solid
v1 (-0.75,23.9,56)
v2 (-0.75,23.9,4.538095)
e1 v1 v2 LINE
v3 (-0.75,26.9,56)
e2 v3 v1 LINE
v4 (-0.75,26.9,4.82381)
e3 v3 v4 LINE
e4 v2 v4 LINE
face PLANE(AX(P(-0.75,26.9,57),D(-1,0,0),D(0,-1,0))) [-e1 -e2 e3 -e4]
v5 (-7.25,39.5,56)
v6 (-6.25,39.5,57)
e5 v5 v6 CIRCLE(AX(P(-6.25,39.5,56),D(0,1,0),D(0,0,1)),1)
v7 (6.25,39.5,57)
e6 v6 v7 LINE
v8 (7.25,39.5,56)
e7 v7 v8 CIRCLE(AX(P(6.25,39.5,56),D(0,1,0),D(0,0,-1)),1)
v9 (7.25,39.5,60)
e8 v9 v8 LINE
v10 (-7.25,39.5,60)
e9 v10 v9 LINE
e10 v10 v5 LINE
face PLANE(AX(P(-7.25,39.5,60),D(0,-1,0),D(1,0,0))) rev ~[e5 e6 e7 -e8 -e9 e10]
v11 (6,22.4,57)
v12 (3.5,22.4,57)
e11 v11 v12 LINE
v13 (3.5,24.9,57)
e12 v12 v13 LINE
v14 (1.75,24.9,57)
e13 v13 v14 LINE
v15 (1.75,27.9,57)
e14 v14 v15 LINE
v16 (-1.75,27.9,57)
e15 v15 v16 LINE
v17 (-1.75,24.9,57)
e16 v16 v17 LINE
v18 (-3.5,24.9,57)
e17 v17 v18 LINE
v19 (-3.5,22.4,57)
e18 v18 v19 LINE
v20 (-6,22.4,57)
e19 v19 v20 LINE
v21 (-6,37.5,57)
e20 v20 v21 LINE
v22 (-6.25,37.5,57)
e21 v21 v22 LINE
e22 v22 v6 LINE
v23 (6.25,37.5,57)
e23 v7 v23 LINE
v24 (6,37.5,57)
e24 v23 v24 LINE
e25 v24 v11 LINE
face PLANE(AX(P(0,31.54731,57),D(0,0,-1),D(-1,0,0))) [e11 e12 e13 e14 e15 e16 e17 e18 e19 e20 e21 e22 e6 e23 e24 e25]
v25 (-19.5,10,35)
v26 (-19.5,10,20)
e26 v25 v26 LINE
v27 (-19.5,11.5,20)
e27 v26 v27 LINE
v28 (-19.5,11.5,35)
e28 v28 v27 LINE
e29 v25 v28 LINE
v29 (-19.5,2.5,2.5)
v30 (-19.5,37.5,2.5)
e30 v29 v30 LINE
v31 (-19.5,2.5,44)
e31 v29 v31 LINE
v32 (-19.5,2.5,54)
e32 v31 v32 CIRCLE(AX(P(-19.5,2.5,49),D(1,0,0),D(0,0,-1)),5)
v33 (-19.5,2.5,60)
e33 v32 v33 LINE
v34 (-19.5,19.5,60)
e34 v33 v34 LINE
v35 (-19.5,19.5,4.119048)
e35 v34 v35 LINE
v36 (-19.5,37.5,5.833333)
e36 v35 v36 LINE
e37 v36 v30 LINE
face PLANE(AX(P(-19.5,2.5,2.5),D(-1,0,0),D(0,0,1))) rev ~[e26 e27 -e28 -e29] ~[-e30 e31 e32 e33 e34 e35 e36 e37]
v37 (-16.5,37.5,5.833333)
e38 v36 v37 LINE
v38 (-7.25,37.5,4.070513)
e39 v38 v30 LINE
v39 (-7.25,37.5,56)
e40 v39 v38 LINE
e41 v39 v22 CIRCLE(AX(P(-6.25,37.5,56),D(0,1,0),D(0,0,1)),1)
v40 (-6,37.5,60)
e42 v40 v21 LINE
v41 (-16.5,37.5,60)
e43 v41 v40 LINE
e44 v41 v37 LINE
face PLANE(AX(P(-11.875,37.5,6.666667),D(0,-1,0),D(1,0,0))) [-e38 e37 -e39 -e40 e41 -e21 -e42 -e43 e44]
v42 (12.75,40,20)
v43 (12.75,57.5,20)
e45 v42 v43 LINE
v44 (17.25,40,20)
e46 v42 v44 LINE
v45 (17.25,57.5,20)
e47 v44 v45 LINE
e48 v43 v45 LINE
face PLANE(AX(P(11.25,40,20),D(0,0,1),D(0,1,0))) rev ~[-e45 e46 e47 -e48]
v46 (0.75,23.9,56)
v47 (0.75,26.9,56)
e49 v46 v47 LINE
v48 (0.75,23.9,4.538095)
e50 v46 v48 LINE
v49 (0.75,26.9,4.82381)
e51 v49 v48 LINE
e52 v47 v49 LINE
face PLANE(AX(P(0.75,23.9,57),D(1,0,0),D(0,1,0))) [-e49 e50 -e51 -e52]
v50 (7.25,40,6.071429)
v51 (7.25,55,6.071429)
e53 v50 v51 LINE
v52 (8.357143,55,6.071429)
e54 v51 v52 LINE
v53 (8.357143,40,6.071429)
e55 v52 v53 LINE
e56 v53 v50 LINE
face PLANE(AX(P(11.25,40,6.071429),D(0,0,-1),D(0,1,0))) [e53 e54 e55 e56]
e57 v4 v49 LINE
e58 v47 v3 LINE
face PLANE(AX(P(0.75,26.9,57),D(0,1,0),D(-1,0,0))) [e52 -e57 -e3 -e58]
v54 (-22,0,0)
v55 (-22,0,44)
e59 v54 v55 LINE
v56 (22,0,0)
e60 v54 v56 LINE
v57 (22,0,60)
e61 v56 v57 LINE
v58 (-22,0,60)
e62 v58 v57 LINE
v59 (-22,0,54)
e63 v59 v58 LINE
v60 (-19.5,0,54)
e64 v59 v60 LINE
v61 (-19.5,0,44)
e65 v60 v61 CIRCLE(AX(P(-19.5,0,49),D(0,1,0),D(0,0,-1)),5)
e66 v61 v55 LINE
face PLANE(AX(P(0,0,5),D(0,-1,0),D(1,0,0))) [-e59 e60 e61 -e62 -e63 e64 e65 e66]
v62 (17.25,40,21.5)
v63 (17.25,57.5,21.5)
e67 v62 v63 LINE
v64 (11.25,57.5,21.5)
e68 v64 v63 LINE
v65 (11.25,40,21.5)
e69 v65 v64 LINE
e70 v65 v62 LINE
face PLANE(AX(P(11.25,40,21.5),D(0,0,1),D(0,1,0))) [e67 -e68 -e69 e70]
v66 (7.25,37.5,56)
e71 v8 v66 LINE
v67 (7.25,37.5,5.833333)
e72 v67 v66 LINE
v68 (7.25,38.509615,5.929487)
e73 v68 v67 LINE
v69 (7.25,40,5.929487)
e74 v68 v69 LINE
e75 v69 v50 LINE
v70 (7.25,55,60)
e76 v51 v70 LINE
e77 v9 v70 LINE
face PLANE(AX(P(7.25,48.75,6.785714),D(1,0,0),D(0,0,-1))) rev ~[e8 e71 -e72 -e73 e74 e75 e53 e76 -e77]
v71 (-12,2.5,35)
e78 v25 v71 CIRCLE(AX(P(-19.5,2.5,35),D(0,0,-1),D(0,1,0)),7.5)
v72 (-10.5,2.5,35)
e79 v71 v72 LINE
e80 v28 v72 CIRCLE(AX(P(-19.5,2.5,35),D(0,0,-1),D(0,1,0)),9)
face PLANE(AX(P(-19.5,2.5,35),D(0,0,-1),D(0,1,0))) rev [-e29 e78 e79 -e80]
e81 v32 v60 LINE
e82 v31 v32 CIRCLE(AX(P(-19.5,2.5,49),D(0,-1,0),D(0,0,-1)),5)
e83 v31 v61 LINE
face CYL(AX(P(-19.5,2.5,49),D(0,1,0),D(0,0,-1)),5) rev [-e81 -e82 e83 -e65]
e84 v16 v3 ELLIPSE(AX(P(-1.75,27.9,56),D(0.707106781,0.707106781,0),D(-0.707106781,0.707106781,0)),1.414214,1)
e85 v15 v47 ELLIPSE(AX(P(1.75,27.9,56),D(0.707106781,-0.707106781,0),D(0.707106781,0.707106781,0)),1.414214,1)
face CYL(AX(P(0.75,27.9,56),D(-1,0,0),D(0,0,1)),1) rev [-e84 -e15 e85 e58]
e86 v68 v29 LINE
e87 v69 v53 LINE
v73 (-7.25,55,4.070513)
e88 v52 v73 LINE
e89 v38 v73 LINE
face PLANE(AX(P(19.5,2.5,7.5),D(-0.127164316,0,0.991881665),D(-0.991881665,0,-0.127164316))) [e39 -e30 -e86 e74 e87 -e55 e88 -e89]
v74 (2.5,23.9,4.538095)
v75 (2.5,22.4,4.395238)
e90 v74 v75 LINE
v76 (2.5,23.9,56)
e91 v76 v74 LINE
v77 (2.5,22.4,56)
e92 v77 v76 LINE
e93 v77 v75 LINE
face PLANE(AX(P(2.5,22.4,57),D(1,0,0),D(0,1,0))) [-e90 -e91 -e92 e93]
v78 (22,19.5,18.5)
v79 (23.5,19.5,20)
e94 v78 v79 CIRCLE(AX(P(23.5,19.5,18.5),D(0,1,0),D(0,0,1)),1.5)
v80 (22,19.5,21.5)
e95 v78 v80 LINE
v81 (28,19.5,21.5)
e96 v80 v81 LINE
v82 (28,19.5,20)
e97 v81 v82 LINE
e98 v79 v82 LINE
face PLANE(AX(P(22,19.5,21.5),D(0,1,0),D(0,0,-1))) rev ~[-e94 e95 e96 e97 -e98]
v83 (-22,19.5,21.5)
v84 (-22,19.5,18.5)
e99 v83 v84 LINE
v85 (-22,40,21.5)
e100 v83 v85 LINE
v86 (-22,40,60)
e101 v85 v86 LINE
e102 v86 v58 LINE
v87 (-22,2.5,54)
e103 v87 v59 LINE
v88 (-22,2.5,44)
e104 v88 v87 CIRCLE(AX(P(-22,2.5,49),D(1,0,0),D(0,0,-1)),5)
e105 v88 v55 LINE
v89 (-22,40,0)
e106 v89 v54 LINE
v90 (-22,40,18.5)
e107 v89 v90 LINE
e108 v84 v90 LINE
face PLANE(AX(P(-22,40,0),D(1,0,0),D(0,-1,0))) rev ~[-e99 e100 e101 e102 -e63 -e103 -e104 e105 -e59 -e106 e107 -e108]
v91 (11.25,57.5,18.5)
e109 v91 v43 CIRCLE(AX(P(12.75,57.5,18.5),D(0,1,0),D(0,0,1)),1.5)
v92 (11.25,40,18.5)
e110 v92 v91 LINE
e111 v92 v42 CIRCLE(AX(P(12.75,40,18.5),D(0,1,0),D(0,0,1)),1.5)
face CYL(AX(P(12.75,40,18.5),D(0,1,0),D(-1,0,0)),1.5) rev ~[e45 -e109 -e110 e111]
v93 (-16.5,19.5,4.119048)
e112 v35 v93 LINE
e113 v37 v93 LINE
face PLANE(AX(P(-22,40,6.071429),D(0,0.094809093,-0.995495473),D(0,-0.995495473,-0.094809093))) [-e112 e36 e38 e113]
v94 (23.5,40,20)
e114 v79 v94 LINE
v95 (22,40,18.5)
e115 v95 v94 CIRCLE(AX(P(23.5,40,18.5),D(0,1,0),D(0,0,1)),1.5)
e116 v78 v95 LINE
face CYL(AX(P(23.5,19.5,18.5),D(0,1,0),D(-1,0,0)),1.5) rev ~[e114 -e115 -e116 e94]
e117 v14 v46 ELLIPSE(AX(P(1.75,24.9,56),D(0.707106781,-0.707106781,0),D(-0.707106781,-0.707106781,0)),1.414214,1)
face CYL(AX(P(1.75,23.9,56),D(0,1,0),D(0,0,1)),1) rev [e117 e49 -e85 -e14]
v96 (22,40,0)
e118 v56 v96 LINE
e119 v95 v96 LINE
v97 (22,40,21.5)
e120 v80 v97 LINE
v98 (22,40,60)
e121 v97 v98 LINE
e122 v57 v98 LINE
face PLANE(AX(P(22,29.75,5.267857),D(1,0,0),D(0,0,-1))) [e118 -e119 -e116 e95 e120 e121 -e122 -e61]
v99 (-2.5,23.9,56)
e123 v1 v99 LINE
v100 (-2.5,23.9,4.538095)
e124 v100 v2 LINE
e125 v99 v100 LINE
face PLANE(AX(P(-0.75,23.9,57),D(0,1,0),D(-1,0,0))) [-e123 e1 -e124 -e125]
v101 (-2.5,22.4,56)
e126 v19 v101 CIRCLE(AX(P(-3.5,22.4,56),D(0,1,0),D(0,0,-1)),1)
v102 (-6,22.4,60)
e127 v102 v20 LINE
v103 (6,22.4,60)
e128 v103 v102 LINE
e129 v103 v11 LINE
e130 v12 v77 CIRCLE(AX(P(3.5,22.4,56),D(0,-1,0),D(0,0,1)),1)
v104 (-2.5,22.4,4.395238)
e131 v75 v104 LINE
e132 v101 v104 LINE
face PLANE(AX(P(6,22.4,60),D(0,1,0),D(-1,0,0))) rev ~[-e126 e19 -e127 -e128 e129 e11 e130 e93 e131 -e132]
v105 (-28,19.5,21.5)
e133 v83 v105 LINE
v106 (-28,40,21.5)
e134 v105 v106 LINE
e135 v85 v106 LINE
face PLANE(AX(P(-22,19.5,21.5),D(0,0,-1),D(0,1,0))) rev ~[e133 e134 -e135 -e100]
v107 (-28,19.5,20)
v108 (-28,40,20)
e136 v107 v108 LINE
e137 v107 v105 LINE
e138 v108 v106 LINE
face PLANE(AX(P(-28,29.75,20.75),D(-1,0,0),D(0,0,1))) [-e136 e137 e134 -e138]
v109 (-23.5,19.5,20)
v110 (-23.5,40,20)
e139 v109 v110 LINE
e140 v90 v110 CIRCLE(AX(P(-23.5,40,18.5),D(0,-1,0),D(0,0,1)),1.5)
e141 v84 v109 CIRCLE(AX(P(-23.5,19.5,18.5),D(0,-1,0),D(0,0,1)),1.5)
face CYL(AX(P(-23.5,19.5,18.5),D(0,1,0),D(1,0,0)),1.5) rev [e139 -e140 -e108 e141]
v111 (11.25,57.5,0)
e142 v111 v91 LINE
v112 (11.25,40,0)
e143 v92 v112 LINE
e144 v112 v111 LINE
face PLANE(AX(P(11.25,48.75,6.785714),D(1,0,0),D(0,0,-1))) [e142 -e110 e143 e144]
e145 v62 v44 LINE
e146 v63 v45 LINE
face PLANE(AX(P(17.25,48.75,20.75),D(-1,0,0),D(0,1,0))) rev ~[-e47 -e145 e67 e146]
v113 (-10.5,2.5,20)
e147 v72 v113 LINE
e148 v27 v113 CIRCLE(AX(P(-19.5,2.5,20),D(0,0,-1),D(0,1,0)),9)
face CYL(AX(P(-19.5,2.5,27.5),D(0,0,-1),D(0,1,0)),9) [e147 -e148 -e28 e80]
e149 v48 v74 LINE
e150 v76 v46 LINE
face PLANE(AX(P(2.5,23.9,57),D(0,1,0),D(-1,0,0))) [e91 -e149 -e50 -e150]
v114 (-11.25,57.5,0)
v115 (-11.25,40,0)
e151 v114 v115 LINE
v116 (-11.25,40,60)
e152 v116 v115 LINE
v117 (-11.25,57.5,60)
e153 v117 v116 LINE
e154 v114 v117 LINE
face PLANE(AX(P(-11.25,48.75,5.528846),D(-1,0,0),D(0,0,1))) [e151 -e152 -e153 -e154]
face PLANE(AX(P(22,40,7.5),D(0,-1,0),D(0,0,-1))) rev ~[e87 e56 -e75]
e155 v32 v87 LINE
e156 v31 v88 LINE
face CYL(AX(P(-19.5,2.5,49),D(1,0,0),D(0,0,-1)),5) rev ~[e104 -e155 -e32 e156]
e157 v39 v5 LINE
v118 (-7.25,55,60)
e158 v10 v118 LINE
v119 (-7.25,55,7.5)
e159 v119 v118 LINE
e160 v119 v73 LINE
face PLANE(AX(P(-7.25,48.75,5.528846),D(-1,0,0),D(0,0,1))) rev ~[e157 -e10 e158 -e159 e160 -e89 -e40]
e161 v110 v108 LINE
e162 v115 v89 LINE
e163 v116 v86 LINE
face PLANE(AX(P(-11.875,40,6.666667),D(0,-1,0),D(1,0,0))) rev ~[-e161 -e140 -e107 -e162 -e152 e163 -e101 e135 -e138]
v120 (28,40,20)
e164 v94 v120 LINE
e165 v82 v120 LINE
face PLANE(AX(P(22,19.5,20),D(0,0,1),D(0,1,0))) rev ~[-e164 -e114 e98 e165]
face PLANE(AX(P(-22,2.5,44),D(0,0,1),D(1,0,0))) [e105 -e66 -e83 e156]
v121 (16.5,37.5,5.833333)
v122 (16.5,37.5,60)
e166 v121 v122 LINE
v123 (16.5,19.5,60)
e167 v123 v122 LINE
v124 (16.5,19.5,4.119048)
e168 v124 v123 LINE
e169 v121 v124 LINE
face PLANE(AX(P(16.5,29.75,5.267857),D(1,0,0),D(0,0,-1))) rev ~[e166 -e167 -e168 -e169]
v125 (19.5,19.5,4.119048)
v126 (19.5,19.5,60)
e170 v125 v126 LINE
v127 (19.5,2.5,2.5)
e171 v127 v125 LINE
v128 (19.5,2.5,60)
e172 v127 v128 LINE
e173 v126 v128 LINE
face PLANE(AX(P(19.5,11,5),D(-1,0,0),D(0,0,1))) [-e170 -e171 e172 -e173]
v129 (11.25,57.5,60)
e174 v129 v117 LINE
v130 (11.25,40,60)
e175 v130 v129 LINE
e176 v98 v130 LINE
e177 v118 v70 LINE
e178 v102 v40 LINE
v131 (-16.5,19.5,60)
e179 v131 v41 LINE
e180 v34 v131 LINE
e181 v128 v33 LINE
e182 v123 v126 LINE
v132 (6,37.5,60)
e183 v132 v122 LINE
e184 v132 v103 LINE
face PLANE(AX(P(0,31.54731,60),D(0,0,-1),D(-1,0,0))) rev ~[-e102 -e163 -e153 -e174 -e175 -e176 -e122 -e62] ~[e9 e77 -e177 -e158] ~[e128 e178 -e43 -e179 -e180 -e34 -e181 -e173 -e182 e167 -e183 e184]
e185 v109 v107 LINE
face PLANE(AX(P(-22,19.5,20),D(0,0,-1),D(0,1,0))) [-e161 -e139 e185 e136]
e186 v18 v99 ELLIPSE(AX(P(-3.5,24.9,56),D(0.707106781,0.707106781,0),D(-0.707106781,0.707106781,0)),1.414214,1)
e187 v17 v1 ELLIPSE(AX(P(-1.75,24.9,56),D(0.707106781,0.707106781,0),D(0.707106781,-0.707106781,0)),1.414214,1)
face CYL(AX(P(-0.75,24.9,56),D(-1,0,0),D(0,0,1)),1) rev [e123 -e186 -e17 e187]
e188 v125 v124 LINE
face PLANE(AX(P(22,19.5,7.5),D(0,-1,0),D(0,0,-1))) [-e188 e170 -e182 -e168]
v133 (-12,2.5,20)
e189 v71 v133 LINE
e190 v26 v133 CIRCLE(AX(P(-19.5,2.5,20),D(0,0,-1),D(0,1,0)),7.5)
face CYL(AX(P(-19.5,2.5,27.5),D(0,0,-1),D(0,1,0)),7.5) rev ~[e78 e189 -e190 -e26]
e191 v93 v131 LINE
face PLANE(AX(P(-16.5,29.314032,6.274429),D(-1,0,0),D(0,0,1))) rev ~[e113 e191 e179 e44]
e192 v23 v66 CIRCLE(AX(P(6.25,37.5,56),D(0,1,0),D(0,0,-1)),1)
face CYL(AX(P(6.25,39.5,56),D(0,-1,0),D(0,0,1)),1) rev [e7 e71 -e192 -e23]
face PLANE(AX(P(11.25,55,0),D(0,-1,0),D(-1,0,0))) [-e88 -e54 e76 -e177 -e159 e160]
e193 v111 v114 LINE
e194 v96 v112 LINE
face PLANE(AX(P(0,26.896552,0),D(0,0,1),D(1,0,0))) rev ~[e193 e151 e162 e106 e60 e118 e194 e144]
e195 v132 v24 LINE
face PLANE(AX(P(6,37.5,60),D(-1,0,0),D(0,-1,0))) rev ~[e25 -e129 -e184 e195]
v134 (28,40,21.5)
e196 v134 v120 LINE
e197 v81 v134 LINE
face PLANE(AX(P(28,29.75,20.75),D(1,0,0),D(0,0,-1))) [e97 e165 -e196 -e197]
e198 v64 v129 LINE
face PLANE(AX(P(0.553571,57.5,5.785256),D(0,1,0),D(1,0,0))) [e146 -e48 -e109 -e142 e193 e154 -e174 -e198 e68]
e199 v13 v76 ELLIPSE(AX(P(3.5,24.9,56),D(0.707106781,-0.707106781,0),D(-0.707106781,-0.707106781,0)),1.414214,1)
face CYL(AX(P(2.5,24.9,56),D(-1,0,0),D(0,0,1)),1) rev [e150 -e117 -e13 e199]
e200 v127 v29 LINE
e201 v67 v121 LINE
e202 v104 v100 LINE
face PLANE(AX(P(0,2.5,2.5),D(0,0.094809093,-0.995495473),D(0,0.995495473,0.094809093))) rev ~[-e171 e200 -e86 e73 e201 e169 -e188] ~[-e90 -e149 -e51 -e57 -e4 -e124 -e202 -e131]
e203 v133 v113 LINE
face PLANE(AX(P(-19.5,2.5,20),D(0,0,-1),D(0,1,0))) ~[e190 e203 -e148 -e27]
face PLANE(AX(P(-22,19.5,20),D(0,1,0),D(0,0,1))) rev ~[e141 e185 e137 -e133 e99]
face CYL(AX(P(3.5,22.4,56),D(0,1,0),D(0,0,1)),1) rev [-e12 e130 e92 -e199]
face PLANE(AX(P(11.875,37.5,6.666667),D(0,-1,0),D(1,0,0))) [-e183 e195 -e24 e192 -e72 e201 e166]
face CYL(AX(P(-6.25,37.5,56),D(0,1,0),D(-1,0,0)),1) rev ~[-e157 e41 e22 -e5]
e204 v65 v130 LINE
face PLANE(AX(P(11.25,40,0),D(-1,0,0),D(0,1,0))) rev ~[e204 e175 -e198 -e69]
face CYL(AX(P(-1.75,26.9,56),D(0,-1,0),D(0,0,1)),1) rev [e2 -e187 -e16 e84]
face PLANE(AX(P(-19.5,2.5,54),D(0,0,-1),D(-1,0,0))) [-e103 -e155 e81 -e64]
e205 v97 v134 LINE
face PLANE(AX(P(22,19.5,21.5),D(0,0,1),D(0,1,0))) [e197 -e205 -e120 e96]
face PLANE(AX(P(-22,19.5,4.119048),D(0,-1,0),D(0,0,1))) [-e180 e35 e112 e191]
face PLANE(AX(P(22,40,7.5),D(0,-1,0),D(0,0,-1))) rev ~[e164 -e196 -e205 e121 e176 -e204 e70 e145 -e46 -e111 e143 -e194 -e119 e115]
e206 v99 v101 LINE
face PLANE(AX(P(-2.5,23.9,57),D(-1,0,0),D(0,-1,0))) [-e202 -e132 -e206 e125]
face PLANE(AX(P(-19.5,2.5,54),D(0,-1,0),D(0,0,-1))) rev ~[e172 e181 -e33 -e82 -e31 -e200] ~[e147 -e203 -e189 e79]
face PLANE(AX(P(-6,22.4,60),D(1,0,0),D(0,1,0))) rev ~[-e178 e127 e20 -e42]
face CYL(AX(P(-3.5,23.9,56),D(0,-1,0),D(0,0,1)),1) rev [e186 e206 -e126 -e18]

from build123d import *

# Parameters (mm, degrees)
BOSS_EXTRUDE1_DEPTH             = 60
SHELL1_T                        = -2.5
SKETCH2_W                       = 1.5
SKETCH2_H                       = 17.5
BOSS_EXTRUDE2_DEPTH             = 57.5
SKETCH4_W                       = 3
SKETCH4_H                       = 18
BOSS_EXTRUDE4_DEPTH             = 57.5
BOSS_EXTRUDE5_DEPTH             = 5
SKETCH13_W                      = 1.5
SKETCH13_H                      = 20.5
BOSS_EXTRUDE8_DEPTH             = 6
SKETCH14_W                      = 17.5
SKETCH14_H                      = 1.5
BOSS_EXTRUDE9_DEPTH             = 6
SKETCH15_W                      = 1.5
SKETCH15_H                      = 20.5
BOSS_EXTRUDE10_DEPTH            = 6
FILLET7_R                       = 1.5
CUT_EXTRUDE9_REACH              = 89.694
CUT_EXTRUDE9_DIRECTION_2_REACH  = 89.694
CUT_EXTRUDE10_REACH             = 88.076
CUT_EXTRUDE10_DIRECTION_2_REACH = 88.076
SKETCH27_W                      = 5
SKETCH27_H                      = 17
BOSS_EXTRUDE15_DEPTH            = 2.5
BOSS_EXTRUDE16_DEPTH            = 5.5
SKETCH29_W                      = 9.25
SKETCH29_H                      = 1.666666667
BOSS_EXTRUDE17_DEPTH            = 2.5
SKETCH30_W                      = 3.942307692
SKETCH30_H                      = 17.5
BOSS_EXTRUDE18_DEPTH            = 4
SKETCH31_W                      = 5
SKETCH31_H                      = 17
BOSS_EXTRUDE19_DEPTH            = 2.5
SKETCH32_W                      = 4.464285714
SKETCH32_H                      = 20.5
BOSS_EXTRUDE20_DEPTH            = 5.5
SKETCH35_W                      = 9.25
SKETCH35_H                      = 1.666666667
BOSS_EXTRUDE21_DEPTH            = 2.5
SKETCH36_W                      = 1.428571429
SKETCH36_H                      = 17.5
BOSS_EXTRUDE22_DEPTH            = 4
SKETCH37_W                      = 15.607142857
SKETCH37_H                      = 3.429487179
BOSS_EXTRUDE23_DEPTH            = 2.5
SKETCH38_W                      = 39
SKETCH38_H                      = 5
BOSS_EXTRUDE24_DEPTH            = 2.5
SKETCH39_W                      = 15
SKETCH39_H                      = 1.5
REVOLVE1_ANGLE                  = 90
CUT_EXTRUDE11_DEPTH             = 10
CUT_EXTRUDE12_DEPTH             = 10
BOSS_EXTRUDE25_DEPTH            = 3
BOSS_EXTRUDE26_START            = -2.5
SKETCH43_W                      = 12.25
SKETCH43_H                      = 3.571428571
BOSS_EXTRUDE26_DEPTH            = 2.5
BOSS_EXTRUDE27_REACH            = 87.669
FILLET8_R                       = 1


with BuildPart() as part:
    # Sketch1 → Boss-Extrude1 (new body)
    with BuildSketch(Plane.XY):
        Polygon((-22, 0), (22, 0), (22, 40), (11.25, 40), (11.25, 57.5), (-11.25, 57.5), (-11.25, 40), (-22, 40), align=None)
    extrude(amount=BOSS_EXTRUDE1_DEPTH)

    # Shell1
    shell1_openings = [part.faces().sort_by_distance(p)[0] for p in [
        (0, 25.256094022, 60),
    ]]
    offset(amount=SHELL1_T, openings=shell1_openings, kind=Kind.INTERSECTION)

    # Sketch2 → Boss-Extrude2 (add)
    with BuildSketch(Plane.XY.offset(2.5)):
        with Locations((-8, 46.25)):
            Rectangle(SKETCH2_W, SKETCH2_H)
        with Locations((8, 46.25)):
            Rectangle(SKETCH2_W, SKETCH2_H)
    extrude(amount=BOSS_EXTRUDE2_DEPTH)

    # Sketch4 → Boss-Extrude4 (add)
    with BuildSketch(Plane.XY.offset(2.5)):
        with Locations((-18, 28.5)):
            Rectangle(SKETCH4_W, SKETCH4_H)
        with Locations((18, 28.5)):
            Rectangle(SKETCH4_W, SKETCH4_H)
    extrude(amount=BOSS_EXTRUDE4_DEPTH)

    # Sketch7 → Boss-Extrude5 (add)
    with BuildSketch(Plane.XY.offset(2.5)):
        Polygon((-7.25, 55), (7.25, 55), (7.25, 37.5), (16.5, 37.5), (16.5, 19.5), (19.5, 19.5), (19.5, 2.5), (-19.5, 2.5), (-19.5, 19.5), (-16.5, 19.5), (-16.5, 37.5), (-7.25, 37.5), align=None)
    extrude(amount=BOSS_EXTRUDE5_DEPTH)

    # Sketch13 → Boss-Extrude8 (add)
    with BuildSketch(Plane.ZY.offset(22)):
        with Locations((20.75, 29.75)):
            Rectangle(SKETCH13_W, SKETCH13_H)
    extrude(amount=BOSS_EXTRUDE8_DEPTH)

    # Sketch14 → Boss-Extrude9 (add)
    with BuildSketch(Plane(origin=(11.25, 46.25, 0), x_dir=(0, 1, 0), z_dir=(-1, 0, 0))):
        with Locations((2.5, -20.75)):
            Rectangle(SKETCH14_W, SKETCH14_H)
    extrude(amount=-BOSS_EXTRUDE9_DEPTH)

    # Sketch15 → Boss-Extrude10 (add)
    with BuildSketch(Plane(origin=(22, 0, 0), x_dir=(0, 0, -1), z_dir=(1, 0, 0))):
        with Locations((-20.75, 29.75)):
            Rectangle(SKETCH15_W, SKETCH15_H)
    extrude(amount=BOSS_EXTRUDE10_DEPTH)

    # Fillet7
    fillet7_edges = [part.edges().sort_by_distance(p)[0] for p in [
        (-22, 29.75, 20),
        (11.25, 48.75, 20),
        (22, 29.75, 20),
    ]]
    fillet(fillet7_edges, radius=FILLET7_R)

    # Sketch26 → Cut-Extrude9 (cut, up to next)
    with BuildSketch(Plane(origin=(0, 0, 0), x_dir=(0, 0, -1), z_dir=(1, 0, 0)), mode=Mode.PRIVATE) as cut_extrude9_sk1:
        Polygon((-7.5, 55), (-7.5, 2.5), (-2.5, 2.5), align=None)
    cut_extrude9_tool1 = extrude(cut_extrude9_sk1.sketch, amount=-CUT_EXTRUDE9_REACH, mode=Mode.PRIVATE) & part.part
    add(cut_extrude9_tool1.solids().sort_by_distance((0, 20, 5.833333))[0], mode=Mode.SUBTRACT)

    # Sketch26 → Cut-Extrude9 direction 2 (cut, up to next)
    with BuildSketch(Plane(origin=(0, 0, 0), x_dir=(0, 0, -1), z_dir=(1, 0, 0)), mode=Mode.PRIVATE) as cut_extrude9_direction_2_sk1:
        Polygon((-7.5, 55), (-7.5, 2.5), (-2.5, 2.5), align=None)
    cut_extrude9_direction_2_tool1 = extrude(cut_extrude9_direction_2_sk1.sketch, amount=CUT_EXTRUDE9_DIRECTION_2_REACH, mode=Mode.PRIVATE) & part.part
    add(cut_extrude9_direction_2_tool1.solids().sort_by_distance((0, 20, 5.833333))[0], mode=Mode.SUBTRACT)

    # Sketch33 → Cut-Extrude10 (cut, up to next)
    with BuildSketch(Plane(origin=(0, 2.5, 0), x_dir=(1, 0, 0), z_dir=(0, 1, 0)), mode=Mode.PRIVATE) as cut_extrude10_sk1:
        Polygon((-19.5, -7.5), (19.5, -7.5), (-19.5, -2.5), align=None)
    cut_extrude10_tool1 = extrude(cut_extrude10_sk1.sketch, amount=CUT_EXTRUDE10_REACH, mode=Mode.PRIVATE) & part.part
    add(cut_extrude10_tool1.solids().sort_by_distance((-6.5, 2.5, 5.833333))[0], mode=Mode.SUBTRACT)

    # Sketch33 → Cut-Extrude10 direction 2 (cut, up to next)
    with BuildSketch(Plane(origin=(0, 2.5, 0), x_dir=(1, 0, 0), z_dir=(0, 1, 0)), mode=Mode.PRIVATE) as cut_extrude10_direction_2_sk1:
        Polygon((-19.5, -7.5), (19.5, -7.5), (-19.5, -2.5), align=None)
    cut_extrude10_direction_2_tool1 = extrude(cut_extrude10_direction_2_sk1.sketch, amount=-CUT_EXTRUDE10_DIRECTION_2_REACH, mode=Mode.PRIVATE) & part.part
    add(cut_extrude10_direction_2_tool1.solids().sort_by_distance((-6.5, 2.5, 5.833333))[0], mode=Mode.SUBTRACT)

    # Sketch27 → Boss-Extrude15 (add)
    with BuildSketch(Plane.ZY.offset(22)):
        with Locations((5, 11)):
            Rectangle(SKETCH27_W, SKETCH27_H)
    extrude(amount=-BOSS_EXTRUDE15_DEPTH)

    # Sketch27<4> → Boss-Extrude16 (add)
    with BuildSketch(Plane.ZY.offset(22)):
        Polygon((4.119047619, 19.5), (7.5, 19.5), (7.5, 40), (6.071428571, 40), align=None)
    extrude(amount=-BOSS_EXTRUDE16_DEPTH)

    # Sketch29 → Boss-Extrude17 (add)
    with BuildSketch(Plane.XZ.offset(-37.5)):
        with Locations((-11.875, 6.666666667)):
            Rectangle(SKETCH29_W, SKETCH29_H)
    extrude(amount=-BOSS_EXTRUDE17_DEPTH)

    # Sketch30 → Boss-Extrude18 (add)
    with BuildSketch(Plane.ZY.offset(11.25)):
        with Locations((5.528846154, 48.75)):
            Rectangle(SKETCH30_W, SKETCH30_H)
    extrude(amount=-BOSS_EXTRUDE18_DEPTH)

    # Sketch31 → Boss-Extrude19 (add)
    with BuildSketch(Plane.ZY.offset(-19.5)):
        with Locations((5, 11)):
            Rectangle(SKETCH31_W, SKETCH31_H)
    extrude(amount=-BOSS_EXTRUDE19_DEPTH)

    # Sketch32 → Boss-Extrude20 (add)
    with BuildSketch(Plane(origin=(22, 0, 0), x_dir=(0, 0, -1), z_dir=(1, 0, 0))):
        with Locations((-5.267857143, 29.75)):
            Rectangle(SKETCH32_W, SKETCH32_H)
    extrude(amount=-BOSS_EXTRUDE20_DEPTH)

    # Sketch35 → Boss-Extrude21 (add)
    with BuildSketch(Plane.XZ.offset(-37.5)):
        with Locations((11.875, 6.666666667)):
            Rectangle(SKETCH35_W, SKETCH35_H)
    extrude(amount=-BOSS_EXTRUDE21_DEPTH)

    # Sketch36 → Boss-Extrude22 (add)
    with BuildSketch(Plane(origin=(11.25, 0, 0), x_dir=(0, 0, -1), z_dir=(1, 0, 0))):
        with Locations((-6.785714286, 48.75)):
            Rectangle(SKETCH36_W, SKETCH36_H)
    extrude(amount=-BOSS_EXTRUDE22_DEPTH)

    # Sketch37 → Boss-Extrude23 (add)
    with BuildSketch(Plane(origin=(0, 57.5, 0), x_dir=(1, 0, 0), z_dir=(0, 1, 0))):
        with Locations((0.553571429, -5.785256411)):
            Rectangle(SKETCH37_W, SKETCH37_H)
    extrude(amount=-BOSS_EXTRUDE23_DEPTH)

    # Sketch38 → Boss-Extrude24 (add)
    with BuildSketch(Plane.XZ):
        with Locations((0, 5)):
            Rectangle(SKETCH38_W, SKETCH38_H)
    extrude(amount=-BOSS_EXTRUDE24_DEPTH)

    # Sketch39 → Revolve1 (revolve)
    with BuildSketch(Plane(origin=(-19.5, 0, 0), x_dir=(0, 0, -1), z_dir=(1, 0, 0))):
        with Locations((-27.5, 10.75)):
            Rectangle(SKETCH39_W, SKETCH39_H)
    revolve(axis=Axis((-19.5, 2.5, 60), (0, 0, -1)), revolution_arc=REVOLVE1_ANGLE)

    # Sketch40 → Cut-Extrude11 (cut)
    with BuildSketch(Plane(origin=(-19.5, 0, 0), x_dir=(0, 0, -1), z_dir=(1, 0, 0))):
        with BuildLine():
            Line((-54, 2.5), (-44, 2.5))
            ThreePointArc((-44, 2.5), (-49, 7.5), (-54, 2.5))
        make_face()
    extrude(amount=-CUT_EXTRUDE11_DEPTH, mode=Mode.SUBTRACT)

    # Sketch41 → Cut-Extrude12 (cut)
    with BuildSketch(Plane(origin=(0, 2.5, 0), x_dir=(1, 0, 0), z_dir=(0, 1, 0))):
        with BuildLine():
            Line((-22, -44), (-19.5, -44))
            ThreePointArc((-19.5, -44), (-14.5, -49), (-19.5, -54))
            Line((-19.5, -54), (-22, -54))
            Line((-22, -54), (-22, -44))
        make_face()
    extrude(amount=-CUT_EXTRUDE12_DEPTH, mode=Mode.SUBTRACT)

    # Sketch42 → Boss-Extrude25 (add)
    with BuildSketch(Plane.XY.offset(60)):
        Polygon((-7.25, 39.5), (7.25, 39.5), (7.25, 37.5), (6, 37.5), (6, 22.4), (-6, 22.4), (-6, 37.5), (-7.25, 37.5), align=None)
    extrude(amount=-BOSS_EXTRUDE25_DEPTH)

    # Sketch43 → Boss-Extrude26 (add)
    with BuildSketch(Plane(origin=(0, 40, 0), x_dir=(1, 0, 0), z_dir=(0, 1, 0)).offset(BOSS_EXTRUDE26_START)):
        with Locations((-13.375, -4.285714286)):
            Rectangle(SKETCH43_W, SKETCH43_H)
    extrude(amount=BOSS_EXTRUDE26_DEPTH)

    # Boss-Extrude27: up to this plane
    boss_extrude27_end = Plane(origin=(28.001, 55, 7.5), z_dir=(0, -0.09480909262799542, 0.9954954725939523))
    # Sketch44 → Boss-Extrude27 (add, up to the surface)
    with BuildSketch(Plane(origin=(0, 0, 57), x_dir=(-1, 0, 0), z_dir=(0, 0, -1)), mode=Mode.PRIVATE) as boss_extrude27_sk1:
        Polygon((-2.5, 22.4), (-2.5, 23.9), (-0.75, 23.9), (-0.75, 26.9), (0.75, 26.9), (0.75, 23.9), (2.5, 23.9), (2.5, 22.4), align=None)
    boss_extrude27_tool1 = split(extrude(boss_extrude27_sk1.sketch, amount=BOSS_EXTRUDE27_REACH, mode=Mode.PRIVATE), bisect_by=boss_extrude27_end, keep=Keep.BOTH, mode=Mode.PRIVATE)
    add(boss_extrude27_tool1.solids().sort_by_distance((0, 23.99375, 57))[0])

    # Fillet8
    fillet8_edges = [part.edges().sort_by_distance(p)[0] for p in [
        (-7.25, 38.5, 57),
        (7.25, 38.5, 57),
        (1.625, 23.9, 57),
        (0.75, 25.4, 57),
        (0, 26.9, 57),
        (-0.75, 25.4, 57),
        (-1.625, 23.9, 57),
        (2.5, 23.15, 57),
        (-2.5, 23.15, 57),
    ]]
    fillet(fillet8_edges, radius=FILLET8_R)


solid = part.part
